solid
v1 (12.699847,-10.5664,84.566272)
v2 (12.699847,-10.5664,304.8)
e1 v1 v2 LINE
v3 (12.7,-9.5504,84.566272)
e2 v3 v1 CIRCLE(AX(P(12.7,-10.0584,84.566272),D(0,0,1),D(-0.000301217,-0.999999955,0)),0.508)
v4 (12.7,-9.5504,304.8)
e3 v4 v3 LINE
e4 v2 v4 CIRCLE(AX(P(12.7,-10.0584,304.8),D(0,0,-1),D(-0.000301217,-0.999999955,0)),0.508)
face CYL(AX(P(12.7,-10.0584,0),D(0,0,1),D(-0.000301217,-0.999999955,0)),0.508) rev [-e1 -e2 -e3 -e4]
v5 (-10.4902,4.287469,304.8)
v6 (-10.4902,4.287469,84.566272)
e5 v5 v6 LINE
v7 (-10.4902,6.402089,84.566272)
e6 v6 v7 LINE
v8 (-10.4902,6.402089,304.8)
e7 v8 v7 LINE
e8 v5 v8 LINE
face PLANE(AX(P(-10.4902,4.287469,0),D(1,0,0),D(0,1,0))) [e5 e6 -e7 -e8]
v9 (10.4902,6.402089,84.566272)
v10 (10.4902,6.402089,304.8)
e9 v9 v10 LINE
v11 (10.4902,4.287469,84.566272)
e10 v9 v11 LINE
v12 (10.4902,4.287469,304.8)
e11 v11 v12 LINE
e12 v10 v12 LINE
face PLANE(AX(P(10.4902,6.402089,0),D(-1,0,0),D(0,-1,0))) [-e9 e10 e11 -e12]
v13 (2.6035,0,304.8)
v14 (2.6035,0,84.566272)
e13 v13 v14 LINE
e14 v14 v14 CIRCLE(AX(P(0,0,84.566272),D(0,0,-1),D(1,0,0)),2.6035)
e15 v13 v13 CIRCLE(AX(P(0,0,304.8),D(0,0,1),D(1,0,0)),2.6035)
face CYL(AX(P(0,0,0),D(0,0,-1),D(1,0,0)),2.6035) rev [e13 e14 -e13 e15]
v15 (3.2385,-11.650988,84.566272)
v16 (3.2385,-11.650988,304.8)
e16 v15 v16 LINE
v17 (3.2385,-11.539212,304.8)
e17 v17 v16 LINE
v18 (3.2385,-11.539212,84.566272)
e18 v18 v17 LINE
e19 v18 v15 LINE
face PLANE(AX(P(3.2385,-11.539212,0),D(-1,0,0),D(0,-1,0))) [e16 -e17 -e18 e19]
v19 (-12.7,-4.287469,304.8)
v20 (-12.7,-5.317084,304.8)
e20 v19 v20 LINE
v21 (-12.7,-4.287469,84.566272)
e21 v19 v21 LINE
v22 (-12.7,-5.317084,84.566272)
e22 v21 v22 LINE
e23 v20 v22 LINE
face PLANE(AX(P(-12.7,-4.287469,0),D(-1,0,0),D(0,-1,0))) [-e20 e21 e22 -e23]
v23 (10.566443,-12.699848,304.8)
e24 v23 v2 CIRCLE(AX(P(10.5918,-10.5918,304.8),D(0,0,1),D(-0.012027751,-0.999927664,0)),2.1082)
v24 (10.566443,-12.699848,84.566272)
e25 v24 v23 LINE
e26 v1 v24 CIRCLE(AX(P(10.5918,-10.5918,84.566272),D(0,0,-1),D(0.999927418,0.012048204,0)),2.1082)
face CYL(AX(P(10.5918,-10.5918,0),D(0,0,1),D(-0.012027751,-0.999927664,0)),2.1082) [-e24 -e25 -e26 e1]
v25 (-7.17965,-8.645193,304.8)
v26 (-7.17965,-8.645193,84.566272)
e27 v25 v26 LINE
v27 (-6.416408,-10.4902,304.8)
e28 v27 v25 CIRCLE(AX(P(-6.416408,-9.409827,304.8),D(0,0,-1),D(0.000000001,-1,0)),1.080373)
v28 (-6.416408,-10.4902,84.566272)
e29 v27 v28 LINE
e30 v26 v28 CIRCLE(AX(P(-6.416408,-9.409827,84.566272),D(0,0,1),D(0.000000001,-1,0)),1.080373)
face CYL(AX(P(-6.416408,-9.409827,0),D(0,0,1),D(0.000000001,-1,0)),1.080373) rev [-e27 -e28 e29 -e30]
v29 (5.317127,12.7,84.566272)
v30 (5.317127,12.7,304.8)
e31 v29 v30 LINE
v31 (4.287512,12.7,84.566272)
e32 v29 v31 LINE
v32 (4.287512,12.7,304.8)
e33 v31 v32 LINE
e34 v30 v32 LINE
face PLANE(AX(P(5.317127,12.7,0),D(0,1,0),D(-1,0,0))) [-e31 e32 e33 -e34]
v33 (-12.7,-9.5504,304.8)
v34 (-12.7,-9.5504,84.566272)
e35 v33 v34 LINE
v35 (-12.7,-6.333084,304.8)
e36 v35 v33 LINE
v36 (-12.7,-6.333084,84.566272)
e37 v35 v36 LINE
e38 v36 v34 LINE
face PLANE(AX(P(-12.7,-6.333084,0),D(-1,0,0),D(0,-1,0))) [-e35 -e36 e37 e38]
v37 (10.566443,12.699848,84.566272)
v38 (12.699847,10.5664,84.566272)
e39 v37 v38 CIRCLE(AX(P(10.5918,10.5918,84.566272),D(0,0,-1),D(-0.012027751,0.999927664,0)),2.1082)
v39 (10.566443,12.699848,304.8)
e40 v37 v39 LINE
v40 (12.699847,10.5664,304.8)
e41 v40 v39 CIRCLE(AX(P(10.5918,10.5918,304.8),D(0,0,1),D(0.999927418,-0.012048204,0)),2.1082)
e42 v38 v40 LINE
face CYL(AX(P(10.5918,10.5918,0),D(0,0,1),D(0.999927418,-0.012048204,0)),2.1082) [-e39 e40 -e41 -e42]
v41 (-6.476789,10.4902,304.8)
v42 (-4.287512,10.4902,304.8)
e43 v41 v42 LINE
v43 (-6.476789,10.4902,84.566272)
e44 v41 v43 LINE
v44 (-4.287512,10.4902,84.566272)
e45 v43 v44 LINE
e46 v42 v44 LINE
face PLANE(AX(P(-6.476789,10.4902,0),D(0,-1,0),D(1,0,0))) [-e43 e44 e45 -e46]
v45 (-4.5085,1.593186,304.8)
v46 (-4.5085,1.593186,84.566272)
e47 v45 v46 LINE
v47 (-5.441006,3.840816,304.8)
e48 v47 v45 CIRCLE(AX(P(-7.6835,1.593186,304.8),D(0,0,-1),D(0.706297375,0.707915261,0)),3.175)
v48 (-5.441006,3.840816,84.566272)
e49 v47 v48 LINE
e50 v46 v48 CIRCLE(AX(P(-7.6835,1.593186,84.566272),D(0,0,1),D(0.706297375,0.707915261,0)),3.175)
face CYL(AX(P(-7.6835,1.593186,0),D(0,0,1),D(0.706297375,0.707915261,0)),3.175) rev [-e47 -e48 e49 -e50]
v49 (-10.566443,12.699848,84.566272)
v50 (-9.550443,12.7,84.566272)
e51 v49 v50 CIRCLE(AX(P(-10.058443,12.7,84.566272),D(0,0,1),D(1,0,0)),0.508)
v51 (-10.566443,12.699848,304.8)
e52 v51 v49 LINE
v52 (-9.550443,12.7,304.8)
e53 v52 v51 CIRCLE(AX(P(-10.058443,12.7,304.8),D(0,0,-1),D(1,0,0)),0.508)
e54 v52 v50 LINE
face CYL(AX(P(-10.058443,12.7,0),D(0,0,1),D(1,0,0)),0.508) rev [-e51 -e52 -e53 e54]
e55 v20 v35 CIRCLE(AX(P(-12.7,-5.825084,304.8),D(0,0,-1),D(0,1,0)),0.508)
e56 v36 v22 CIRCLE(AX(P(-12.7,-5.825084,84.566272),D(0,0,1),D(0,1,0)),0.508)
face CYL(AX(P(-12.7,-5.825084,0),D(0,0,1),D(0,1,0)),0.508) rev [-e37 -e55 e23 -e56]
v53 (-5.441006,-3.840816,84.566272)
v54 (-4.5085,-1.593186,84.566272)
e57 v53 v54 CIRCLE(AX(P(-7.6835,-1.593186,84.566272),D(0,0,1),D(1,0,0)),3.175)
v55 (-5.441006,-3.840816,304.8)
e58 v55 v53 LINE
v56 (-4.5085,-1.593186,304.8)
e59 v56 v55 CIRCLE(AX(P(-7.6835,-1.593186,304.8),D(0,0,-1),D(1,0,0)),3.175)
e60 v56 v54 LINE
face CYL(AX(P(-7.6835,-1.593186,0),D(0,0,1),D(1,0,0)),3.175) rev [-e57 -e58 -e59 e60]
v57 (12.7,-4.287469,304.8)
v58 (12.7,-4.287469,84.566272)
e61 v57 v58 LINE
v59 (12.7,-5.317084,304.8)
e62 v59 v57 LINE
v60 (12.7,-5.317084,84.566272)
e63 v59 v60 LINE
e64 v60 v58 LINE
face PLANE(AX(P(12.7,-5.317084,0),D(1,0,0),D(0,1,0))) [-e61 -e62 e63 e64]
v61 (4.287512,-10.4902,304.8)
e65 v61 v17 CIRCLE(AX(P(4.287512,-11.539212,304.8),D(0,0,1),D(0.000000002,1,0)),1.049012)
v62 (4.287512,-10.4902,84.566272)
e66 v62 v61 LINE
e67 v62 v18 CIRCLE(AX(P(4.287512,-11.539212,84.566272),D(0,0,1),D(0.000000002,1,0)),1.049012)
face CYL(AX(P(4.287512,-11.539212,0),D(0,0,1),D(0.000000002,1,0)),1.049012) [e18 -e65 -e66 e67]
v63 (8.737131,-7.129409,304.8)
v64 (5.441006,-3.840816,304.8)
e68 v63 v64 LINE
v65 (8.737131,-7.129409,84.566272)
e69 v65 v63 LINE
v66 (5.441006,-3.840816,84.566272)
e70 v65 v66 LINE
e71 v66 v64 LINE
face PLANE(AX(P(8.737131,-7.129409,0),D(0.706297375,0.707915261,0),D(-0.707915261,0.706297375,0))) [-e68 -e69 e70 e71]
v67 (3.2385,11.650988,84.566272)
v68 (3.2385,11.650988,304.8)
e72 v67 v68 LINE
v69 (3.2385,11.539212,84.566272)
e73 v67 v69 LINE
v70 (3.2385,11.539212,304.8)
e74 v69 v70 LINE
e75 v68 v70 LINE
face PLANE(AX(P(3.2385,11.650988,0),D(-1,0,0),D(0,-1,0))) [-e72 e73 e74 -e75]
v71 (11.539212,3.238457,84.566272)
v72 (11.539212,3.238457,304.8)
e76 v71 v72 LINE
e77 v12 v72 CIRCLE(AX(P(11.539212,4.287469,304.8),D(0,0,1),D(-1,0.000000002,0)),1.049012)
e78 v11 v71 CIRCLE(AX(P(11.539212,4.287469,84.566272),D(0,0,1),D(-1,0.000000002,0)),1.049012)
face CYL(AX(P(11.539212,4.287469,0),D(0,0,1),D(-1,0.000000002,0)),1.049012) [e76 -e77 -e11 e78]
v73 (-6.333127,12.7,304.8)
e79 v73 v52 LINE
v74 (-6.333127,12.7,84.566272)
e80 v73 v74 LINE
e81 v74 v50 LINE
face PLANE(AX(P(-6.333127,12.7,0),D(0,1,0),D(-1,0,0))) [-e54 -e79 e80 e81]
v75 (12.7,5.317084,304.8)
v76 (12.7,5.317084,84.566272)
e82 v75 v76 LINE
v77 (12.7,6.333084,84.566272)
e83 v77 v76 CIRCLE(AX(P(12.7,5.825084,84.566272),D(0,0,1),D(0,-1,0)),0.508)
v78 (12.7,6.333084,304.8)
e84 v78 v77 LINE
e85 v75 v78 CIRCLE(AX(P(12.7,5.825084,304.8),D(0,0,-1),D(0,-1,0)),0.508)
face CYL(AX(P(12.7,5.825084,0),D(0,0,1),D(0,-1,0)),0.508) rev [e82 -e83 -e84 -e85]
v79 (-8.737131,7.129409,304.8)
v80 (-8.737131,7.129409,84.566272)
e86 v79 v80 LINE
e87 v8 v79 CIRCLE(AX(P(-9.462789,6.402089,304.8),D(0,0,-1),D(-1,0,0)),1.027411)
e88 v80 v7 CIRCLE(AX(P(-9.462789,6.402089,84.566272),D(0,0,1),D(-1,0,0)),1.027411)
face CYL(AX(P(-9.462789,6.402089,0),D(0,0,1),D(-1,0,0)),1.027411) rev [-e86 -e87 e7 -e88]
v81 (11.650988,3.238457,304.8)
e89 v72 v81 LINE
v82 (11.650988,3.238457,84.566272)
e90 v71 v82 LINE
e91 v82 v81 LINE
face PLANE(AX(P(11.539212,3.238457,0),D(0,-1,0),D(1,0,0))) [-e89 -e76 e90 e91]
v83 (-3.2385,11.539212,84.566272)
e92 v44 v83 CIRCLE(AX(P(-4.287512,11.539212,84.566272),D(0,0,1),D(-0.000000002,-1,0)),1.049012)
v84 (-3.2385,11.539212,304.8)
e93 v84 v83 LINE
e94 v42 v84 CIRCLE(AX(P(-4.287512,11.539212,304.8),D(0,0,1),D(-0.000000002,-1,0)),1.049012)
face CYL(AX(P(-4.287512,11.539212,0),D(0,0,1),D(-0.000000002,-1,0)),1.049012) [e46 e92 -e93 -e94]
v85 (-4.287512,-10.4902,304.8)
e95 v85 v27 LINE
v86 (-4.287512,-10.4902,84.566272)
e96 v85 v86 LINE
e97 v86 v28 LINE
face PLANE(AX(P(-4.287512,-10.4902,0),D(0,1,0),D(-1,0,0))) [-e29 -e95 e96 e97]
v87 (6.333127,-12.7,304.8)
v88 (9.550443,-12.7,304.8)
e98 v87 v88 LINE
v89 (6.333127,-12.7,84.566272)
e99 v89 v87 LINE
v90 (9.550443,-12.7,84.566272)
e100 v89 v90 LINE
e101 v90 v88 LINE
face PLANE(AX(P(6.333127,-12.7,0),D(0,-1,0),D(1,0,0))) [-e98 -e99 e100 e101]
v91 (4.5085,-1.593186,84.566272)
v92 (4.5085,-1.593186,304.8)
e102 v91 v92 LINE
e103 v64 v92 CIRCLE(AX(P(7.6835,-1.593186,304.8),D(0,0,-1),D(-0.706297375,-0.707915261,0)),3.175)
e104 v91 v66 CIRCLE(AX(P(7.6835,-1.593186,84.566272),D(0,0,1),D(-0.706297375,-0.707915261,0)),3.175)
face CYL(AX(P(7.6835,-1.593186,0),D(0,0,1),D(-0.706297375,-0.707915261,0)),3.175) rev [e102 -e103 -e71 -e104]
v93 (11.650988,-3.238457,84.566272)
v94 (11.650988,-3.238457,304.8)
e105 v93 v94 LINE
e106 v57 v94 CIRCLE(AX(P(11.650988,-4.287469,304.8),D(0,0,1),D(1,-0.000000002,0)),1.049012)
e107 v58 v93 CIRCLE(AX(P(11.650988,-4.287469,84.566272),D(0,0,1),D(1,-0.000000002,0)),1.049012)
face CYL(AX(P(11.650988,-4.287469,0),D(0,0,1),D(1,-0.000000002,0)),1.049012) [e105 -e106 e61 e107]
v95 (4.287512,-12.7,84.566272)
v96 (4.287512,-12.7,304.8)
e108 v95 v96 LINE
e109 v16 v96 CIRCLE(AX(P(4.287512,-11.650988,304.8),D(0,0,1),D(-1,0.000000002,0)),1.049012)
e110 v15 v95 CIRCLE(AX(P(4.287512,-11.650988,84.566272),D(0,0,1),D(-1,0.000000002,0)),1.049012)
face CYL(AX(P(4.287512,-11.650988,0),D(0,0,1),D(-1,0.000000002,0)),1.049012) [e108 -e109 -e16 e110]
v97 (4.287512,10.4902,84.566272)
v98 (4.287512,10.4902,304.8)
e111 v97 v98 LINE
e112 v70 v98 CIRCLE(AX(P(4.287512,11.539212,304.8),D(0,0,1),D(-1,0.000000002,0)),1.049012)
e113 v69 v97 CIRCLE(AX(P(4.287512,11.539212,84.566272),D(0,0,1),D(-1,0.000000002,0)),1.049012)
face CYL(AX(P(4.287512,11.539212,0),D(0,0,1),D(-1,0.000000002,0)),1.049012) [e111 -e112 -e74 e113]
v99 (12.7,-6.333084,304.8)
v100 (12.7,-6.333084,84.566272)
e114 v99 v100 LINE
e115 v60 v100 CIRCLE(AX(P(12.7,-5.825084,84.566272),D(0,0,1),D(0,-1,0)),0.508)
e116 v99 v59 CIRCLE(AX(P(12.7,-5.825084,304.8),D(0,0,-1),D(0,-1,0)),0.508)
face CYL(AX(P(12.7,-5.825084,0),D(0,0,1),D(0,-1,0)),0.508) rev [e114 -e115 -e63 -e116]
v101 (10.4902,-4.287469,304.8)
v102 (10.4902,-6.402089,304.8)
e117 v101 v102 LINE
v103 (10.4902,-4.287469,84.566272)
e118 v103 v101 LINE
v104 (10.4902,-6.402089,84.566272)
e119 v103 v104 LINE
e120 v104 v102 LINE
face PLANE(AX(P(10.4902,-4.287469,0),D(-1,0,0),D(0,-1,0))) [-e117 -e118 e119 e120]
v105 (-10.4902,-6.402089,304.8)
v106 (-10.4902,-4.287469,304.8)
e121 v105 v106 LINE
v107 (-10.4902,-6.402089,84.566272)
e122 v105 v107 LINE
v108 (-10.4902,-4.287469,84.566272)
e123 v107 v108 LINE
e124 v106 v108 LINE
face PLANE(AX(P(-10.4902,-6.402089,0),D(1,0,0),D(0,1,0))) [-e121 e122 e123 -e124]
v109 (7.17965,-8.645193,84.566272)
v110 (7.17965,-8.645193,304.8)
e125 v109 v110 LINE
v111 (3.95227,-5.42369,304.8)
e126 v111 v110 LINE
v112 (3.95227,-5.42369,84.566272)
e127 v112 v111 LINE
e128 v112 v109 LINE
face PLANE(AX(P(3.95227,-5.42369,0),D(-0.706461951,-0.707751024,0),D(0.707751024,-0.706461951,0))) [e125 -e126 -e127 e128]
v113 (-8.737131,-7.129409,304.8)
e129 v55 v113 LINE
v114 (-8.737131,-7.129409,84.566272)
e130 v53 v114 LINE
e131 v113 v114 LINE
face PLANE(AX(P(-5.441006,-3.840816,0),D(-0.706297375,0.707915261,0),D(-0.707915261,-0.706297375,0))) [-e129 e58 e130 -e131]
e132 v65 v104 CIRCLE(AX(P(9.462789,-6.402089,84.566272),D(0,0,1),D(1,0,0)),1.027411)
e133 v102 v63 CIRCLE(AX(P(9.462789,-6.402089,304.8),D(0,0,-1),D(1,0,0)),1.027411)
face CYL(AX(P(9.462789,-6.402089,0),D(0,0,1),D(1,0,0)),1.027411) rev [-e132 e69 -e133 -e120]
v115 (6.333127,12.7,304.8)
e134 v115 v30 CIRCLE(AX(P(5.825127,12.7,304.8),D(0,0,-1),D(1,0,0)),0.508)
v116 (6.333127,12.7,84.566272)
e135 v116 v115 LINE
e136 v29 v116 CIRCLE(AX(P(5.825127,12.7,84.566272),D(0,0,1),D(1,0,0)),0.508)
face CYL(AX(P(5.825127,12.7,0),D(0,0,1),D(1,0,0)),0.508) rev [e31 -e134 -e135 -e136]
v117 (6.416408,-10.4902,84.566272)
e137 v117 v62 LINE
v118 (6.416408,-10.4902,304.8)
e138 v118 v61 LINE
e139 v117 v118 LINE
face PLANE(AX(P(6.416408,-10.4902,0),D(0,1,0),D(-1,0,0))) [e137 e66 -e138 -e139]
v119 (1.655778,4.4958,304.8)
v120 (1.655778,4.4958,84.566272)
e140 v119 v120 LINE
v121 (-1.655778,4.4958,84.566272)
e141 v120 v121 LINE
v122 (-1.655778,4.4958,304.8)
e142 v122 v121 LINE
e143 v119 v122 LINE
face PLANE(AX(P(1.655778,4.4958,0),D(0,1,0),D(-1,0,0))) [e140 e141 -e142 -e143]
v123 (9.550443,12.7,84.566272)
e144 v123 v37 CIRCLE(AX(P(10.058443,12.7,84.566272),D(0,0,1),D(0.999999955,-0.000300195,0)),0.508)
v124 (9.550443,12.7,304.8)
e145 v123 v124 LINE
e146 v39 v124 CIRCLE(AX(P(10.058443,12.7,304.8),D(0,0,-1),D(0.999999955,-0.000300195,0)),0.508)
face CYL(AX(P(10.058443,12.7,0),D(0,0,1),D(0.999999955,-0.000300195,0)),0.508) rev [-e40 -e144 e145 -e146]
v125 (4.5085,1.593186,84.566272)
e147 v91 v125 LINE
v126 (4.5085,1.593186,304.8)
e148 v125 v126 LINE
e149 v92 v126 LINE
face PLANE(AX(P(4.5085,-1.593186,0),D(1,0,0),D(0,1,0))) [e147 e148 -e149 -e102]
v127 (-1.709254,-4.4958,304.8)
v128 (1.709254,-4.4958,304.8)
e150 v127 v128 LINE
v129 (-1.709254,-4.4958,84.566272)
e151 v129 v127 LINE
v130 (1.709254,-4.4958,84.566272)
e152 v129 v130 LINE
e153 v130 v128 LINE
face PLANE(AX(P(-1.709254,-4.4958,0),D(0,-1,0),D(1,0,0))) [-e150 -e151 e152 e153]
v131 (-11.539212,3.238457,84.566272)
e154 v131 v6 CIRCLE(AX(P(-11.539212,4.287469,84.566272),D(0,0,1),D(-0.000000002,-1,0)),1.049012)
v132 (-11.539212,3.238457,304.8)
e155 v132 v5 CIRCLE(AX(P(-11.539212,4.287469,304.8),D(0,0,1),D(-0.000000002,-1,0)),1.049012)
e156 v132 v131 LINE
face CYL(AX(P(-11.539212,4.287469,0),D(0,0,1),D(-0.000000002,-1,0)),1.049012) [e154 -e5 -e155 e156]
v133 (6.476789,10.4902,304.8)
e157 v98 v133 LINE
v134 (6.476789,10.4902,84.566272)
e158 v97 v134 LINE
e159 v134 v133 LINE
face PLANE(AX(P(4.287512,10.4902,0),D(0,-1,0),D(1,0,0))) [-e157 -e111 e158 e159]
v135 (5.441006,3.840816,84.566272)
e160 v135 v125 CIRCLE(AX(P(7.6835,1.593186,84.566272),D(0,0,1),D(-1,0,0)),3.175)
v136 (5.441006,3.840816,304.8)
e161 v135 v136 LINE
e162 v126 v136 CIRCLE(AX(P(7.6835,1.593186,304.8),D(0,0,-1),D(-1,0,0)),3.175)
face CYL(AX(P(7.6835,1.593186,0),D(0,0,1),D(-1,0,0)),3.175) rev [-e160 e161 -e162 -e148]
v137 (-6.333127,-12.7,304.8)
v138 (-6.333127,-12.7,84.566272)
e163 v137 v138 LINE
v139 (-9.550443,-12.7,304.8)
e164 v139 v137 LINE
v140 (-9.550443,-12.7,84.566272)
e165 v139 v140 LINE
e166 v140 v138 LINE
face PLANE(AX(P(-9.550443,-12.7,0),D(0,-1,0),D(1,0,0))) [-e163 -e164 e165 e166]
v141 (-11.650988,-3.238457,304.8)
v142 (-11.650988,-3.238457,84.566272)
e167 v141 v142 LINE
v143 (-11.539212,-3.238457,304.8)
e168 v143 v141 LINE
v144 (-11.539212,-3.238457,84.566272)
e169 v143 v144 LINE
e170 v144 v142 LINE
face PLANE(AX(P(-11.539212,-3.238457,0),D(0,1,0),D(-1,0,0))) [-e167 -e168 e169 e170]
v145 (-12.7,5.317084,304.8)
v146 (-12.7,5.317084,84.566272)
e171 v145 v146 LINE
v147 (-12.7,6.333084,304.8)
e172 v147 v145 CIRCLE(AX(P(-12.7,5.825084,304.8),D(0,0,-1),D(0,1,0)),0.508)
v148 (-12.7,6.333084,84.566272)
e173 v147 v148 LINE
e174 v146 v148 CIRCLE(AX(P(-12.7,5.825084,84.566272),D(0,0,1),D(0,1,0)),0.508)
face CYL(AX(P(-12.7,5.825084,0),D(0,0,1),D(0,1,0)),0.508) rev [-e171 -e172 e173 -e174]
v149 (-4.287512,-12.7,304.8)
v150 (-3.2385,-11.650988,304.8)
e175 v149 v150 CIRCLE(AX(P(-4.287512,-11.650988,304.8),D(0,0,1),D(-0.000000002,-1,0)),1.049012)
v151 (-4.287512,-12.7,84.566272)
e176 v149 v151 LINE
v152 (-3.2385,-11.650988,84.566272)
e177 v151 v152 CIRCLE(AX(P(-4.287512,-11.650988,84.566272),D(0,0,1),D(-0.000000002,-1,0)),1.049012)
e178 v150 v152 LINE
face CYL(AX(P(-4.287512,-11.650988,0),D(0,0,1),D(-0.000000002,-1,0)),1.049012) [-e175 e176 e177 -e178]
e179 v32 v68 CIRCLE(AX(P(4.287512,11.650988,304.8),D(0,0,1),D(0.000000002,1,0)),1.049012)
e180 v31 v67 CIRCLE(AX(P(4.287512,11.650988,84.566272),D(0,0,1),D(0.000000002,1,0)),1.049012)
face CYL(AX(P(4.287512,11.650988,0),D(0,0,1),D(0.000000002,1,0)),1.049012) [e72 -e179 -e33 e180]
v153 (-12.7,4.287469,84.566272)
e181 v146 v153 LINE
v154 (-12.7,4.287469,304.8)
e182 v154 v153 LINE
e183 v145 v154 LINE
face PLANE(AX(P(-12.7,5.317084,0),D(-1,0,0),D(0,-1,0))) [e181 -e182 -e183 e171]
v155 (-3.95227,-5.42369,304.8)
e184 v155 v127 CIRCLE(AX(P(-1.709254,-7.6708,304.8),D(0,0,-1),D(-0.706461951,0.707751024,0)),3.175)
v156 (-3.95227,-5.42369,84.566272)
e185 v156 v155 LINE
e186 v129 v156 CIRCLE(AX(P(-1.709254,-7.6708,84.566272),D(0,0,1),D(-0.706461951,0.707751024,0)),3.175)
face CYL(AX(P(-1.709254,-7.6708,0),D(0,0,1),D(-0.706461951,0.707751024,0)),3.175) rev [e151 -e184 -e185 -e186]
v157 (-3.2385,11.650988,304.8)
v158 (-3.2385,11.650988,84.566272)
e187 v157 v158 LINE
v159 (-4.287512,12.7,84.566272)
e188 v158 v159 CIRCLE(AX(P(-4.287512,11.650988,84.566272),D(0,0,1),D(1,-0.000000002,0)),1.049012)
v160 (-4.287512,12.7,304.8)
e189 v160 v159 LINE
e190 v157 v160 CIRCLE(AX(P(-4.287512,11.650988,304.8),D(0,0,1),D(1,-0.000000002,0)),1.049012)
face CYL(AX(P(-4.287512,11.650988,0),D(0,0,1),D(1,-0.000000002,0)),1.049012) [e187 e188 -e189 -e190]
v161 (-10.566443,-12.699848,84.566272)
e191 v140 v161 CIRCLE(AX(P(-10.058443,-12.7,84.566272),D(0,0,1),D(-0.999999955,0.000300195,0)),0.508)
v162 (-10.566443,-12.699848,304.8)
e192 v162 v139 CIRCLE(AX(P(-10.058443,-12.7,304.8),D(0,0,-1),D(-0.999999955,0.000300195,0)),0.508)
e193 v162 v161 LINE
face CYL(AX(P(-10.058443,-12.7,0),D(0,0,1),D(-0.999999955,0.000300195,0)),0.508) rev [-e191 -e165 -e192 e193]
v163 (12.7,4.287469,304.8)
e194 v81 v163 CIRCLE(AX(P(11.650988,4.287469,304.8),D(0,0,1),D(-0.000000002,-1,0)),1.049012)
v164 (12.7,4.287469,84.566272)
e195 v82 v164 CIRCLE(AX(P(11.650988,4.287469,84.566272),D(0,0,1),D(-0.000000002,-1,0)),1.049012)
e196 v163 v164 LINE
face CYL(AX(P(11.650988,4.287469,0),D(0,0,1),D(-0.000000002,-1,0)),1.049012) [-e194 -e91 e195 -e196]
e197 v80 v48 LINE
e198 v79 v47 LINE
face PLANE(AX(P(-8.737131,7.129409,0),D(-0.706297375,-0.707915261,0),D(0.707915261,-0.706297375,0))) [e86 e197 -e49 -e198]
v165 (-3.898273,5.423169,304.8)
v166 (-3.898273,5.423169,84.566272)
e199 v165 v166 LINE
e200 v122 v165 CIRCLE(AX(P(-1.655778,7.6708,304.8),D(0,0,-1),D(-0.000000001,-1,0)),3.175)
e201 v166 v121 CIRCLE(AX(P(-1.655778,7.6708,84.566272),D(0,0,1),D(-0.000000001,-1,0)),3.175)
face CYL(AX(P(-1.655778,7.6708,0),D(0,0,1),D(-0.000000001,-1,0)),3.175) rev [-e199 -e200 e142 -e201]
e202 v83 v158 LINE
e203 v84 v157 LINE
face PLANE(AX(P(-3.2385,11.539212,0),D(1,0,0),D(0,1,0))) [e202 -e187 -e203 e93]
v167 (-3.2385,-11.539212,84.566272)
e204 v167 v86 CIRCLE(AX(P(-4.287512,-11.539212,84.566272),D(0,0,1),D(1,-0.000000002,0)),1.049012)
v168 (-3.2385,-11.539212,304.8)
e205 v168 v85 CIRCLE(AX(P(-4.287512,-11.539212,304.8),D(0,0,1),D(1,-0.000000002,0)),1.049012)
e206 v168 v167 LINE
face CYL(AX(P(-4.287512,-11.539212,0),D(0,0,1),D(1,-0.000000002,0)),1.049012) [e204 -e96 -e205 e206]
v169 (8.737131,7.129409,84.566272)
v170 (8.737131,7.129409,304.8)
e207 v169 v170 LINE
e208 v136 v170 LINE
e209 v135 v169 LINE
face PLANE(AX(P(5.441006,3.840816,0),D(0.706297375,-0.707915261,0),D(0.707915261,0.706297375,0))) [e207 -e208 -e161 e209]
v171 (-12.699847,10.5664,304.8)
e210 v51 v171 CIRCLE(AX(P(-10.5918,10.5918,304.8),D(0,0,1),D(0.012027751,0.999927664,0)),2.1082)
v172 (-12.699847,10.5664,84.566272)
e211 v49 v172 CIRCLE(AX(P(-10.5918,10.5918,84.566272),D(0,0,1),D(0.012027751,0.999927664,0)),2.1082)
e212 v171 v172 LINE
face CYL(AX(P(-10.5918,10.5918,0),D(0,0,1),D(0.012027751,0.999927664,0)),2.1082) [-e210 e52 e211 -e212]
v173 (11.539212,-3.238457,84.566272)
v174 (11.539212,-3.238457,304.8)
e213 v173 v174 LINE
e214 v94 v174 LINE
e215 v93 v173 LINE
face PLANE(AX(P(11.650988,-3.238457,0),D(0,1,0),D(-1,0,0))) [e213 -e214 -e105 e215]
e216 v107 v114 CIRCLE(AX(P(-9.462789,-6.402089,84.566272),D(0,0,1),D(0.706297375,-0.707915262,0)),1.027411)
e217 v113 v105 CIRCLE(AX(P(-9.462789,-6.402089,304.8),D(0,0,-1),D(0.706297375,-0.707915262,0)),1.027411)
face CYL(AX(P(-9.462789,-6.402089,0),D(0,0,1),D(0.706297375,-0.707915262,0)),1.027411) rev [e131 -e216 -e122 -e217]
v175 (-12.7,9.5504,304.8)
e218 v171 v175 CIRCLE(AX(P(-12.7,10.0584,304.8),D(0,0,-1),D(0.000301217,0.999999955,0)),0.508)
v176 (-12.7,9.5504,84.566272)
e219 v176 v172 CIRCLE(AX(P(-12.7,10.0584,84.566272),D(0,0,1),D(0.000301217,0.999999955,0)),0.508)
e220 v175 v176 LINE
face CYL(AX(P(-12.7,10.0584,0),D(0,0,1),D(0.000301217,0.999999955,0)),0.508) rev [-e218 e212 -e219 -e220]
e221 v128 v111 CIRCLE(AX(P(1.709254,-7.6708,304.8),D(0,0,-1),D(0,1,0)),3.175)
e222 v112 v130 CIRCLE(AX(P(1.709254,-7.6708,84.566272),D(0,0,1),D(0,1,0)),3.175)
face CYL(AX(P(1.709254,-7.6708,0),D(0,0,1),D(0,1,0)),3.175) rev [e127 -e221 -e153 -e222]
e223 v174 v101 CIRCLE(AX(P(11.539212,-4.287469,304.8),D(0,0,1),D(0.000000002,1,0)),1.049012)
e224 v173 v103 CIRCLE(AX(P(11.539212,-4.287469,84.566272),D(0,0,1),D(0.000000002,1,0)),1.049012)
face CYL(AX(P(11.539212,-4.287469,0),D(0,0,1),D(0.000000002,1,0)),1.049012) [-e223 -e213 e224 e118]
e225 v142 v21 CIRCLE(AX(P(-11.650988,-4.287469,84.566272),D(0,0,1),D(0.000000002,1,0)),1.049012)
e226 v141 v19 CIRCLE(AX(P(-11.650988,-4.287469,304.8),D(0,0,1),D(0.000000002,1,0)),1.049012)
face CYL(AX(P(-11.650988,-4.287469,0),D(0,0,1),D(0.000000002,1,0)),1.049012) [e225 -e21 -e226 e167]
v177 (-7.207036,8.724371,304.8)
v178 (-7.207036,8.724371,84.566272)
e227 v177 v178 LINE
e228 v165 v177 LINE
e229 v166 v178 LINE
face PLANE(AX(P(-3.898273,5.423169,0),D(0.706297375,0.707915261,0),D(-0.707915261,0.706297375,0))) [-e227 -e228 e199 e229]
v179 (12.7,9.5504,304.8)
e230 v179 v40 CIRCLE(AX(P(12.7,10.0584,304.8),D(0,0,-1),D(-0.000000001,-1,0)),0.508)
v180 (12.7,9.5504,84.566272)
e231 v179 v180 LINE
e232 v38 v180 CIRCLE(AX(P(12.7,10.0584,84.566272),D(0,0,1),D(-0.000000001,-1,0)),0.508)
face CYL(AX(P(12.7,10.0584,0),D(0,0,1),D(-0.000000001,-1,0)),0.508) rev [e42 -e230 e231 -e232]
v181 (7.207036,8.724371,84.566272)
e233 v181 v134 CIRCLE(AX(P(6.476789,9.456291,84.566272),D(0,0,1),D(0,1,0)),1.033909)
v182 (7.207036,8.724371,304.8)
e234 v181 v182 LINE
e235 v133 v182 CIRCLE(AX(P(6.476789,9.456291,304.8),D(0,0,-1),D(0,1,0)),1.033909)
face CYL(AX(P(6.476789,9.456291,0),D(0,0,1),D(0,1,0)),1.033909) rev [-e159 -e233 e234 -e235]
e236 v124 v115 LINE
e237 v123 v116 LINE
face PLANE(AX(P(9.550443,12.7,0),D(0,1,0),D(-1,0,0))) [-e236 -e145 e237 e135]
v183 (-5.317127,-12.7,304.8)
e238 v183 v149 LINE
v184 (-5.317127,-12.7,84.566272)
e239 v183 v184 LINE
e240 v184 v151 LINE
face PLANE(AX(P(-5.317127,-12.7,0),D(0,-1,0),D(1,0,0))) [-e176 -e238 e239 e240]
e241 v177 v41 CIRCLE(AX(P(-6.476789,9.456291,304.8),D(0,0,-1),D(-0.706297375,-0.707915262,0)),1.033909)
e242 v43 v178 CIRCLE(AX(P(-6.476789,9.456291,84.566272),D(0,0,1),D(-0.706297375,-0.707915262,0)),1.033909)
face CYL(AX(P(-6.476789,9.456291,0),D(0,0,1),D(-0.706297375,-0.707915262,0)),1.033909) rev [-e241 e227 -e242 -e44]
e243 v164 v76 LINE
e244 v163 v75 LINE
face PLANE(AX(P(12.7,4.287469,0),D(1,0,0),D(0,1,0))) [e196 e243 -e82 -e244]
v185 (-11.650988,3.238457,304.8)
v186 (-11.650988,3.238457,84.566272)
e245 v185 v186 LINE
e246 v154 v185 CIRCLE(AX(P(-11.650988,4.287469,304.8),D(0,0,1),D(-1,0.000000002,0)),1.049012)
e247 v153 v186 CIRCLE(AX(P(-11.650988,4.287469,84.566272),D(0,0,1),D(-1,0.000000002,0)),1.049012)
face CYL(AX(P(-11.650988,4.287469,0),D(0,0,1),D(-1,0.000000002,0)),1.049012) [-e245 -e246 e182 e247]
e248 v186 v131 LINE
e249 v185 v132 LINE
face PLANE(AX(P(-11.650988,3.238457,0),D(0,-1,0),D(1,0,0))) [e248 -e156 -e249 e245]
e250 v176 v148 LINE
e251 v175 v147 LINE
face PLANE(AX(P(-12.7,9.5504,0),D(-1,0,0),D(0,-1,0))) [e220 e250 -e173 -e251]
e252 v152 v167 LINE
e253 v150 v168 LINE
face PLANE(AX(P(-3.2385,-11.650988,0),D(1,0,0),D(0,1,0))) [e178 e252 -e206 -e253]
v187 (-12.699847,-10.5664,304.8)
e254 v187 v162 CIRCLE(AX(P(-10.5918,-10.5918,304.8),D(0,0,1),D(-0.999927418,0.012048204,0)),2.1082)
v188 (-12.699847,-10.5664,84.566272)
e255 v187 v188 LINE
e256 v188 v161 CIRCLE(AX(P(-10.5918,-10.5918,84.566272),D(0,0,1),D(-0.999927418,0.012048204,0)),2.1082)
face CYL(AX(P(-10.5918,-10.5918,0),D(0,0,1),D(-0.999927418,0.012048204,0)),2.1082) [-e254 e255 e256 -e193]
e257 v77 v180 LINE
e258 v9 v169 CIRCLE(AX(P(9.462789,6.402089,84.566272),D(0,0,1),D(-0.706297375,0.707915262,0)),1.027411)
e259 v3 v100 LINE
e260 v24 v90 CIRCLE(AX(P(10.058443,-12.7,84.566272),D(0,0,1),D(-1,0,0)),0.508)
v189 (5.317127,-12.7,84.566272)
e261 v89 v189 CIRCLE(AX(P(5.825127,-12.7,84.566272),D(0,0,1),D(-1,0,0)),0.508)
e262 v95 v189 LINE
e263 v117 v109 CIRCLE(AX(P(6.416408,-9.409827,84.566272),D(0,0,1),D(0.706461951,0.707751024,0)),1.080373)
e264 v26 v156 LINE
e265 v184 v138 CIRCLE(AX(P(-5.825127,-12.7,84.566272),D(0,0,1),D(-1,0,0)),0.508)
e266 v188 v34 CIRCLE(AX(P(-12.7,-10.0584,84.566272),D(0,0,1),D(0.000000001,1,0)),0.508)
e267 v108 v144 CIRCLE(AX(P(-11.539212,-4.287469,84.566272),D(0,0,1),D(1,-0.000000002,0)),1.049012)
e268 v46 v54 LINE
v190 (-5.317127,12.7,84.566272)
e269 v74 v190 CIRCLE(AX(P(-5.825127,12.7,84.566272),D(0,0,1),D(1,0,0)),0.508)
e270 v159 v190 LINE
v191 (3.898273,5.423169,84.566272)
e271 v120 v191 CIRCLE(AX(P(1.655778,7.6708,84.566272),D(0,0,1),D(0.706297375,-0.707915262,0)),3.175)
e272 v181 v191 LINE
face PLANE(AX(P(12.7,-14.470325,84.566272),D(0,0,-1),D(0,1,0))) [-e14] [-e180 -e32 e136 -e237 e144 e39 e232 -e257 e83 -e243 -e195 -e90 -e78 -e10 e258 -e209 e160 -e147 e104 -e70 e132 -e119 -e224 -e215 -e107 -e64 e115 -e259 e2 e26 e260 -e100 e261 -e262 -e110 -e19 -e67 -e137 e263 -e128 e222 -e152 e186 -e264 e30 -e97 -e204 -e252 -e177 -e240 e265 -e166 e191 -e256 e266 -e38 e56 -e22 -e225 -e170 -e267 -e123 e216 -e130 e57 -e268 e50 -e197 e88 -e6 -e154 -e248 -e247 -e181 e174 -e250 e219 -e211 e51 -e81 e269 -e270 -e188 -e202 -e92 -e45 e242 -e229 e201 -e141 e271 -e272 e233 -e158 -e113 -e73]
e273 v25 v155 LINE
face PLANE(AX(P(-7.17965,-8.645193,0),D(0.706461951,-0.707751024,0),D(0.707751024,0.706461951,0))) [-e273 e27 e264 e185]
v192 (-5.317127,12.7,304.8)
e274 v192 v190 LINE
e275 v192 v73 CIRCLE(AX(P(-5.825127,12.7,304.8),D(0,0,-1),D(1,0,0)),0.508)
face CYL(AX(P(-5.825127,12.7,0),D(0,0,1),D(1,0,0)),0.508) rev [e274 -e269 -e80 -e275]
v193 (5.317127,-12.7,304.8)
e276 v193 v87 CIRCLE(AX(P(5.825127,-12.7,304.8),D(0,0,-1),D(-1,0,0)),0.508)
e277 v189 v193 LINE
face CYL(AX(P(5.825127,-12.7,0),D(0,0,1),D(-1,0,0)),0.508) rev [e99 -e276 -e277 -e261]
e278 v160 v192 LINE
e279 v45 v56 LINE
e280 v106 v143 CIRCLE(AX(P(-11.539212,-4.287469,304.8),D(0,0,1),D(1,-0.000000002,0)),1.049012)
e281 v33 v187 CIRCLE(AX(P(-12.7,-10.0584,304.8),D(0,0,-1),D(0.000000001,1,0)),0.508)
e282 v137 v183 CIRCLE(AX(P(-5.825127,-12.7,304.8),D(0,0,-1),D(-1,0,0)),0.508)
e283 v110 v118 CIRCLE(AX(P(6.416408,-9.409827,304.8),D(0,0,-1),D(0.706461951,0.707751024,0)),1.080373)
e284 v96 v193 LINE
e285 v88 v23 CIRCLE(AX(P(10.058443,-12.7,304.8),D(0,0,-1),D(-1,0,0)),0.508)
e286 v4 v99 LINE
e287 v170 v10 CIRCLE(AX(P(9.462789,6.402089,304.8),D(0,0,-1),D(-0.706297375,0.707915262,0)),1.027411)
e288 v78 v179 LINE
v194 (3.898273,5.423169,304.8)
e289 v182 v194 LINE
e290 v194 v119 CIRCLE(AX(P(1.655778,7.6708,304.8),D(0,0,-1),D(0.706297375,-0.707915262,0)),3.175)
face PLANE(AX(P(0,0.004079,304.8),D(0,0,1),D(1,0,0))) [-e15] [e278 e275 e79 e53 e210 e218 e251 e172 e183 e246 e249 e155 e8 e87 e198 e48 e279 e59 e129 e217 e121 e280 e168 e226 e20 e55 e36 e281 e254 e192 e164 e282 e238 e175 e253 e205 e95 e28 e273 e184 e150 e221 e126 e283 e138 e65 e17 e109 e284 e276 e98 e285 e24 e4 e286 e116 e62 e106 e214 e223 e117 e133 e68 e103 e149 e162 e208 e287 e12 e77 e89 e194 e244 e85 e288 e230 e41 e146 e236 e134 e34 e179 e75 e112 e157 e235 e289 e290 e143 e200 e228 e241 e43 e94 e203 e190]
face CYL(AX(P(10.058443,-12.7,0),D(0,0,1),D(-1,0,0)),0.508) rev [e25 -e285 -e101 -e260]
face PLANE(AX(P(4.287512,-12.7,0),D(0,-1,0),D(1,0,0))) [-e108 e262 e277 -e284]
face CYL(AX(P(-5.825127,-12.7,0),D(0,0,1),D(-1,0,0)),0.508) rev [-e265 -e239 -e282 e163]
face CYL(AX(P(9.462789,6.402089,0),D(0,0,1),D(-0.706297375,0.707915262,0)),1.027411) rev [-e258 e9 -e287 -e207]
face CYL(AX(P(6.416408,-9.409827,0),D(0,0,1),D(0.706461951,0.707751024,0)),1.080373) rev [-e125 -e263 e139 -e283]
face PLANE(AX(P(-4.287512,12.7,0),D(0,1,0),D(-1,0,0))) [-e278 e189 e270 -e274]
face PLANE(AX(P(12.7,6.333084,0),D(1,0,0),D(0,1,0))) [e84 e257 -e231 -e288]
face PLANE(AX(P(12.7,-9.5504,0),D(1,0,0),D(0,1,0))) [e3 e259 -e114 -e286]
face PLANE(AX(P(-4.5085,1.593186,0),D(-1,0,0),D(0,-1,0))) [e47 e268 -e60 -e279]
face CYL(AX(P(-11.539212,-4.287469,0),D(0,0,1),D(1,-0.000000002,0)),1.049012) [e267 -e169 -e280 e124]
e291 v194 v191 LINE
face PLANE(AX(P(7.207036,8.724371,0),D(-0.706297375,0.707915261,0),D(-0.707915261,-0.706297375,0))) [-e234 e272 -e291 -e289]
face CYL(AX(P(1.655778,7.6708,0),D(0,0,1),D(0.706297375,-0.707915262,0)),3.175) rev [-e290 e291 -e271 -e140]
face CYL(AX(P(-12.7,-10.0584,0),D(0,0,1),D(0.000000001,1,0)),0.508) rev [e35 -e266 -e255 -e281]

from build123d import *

# Parameters (mm, degrees)
SKETCH1_R               = 2.6035
BOSS_EXTRUDE1_DEPTH     = 304.8
SKETCH2_W               = 393.336915217
SKETCH2_H               = 29.247644192
CUT_EXTRUDE1_DEPTH      = 6.35
CUT_EXTRUDE1_DEPTH_BACK = 29.21


with BuildPart() as part:
    # Sketch1 → Boss-Extrude1 (new body, symmetric)
    with BuildSketch(Plane.XY):
        with BuildLine():
            Line((-7.179650497, -8.645192506), (-3.952270251, -5.423690499))
            ThreePointArc((-3.952270251, -5.423690499), (-2.922936451, -4.736929036), (-1.709253557, -4.4958))
            Line((-1.709253557, -4.4958), (1.709253557, -4.4958))
            ThreePointArc((1.709253557, -4.4958), (2.922936451, -4.736929036), (3.952270251, -5.423690499))
            Line((3.952270251, -5.423690499), (7.179650497, -8.645192506))
            ThreePointArc((7.179650497, -8.645192506), (7.41473083, -9.822813117), (6.416408329, -10.4902))
            Line((6.416408329, -10.4902), (4.287512407, -10.4902))
            ThreePointArc((4.287512407, -10.4902), (3.54574862, -10.79744862), (3.2385, -11.539212407))
            Line((3.2385, -11.539212407), (3.2385, -11.650987593))
            ThreePointArc((3.2385, -11.650987593), (3.54574862, -12.39275138), (4.287512407, -12.7))
            Line((4.287512407, -12.7), (5.317126718, -12.7))
            ThreePointArc((5.317126718, -12.7), (5.825126718, -12.192), (6.333126718, -12.7))
            Line((6.333126718, -12.7), (9.550443118, -12.7))
            ThreePointArc((9.550443118, -12.7), (10.058366869, -12.192000006), (10.566443095, -12.699847501))
            ThreePointArc((10.566443095, -12.699847501), (12.082537762, -12.08250727), (12.699846982, -10.566399977))
            ThreePointArc((12.699846982, -10.566399977), (12.192000006, -10.058323491), (12.7, -9.5504))
            Line((12.7, -9.5504), (12.7, -6.3330836))
            ThreePointArc((12.7, -6.3330836), (12.192, -5.8250836), (12.7, -5.3170836))
            Line((12.7, -5.3170836), (12.7, -4.287469289))
            ThreePointArc((12.7, -4.287469289), (12.39275138, -3.545705502), (11.650987593, -3.238456882))
            Line((11.650987593, -3.238456882), (11.539212407, -3.238456882))
            ThreePointArc((11.539212407, -3.238456882), (10.79744862, -3.545705502), (10.4902, -4.287469289))
            Line((10.4902, -4.287469289), (10.4902, -6.402089023))
            ThreePointArc((10.4902, -6.402089023), (9.856505071, -7.351067942), (8.737131347, -7.129408934))
            Line((8.737131347, -7.129408934), (5.441005833, -3.840816462))
            ThreePointArc((5.441005833, -3.840816462), (4.750877967, -2.809883091), (4.5085, -1.593185507))
            Line((4.5085, -1.593185507), (4.5085, 1.593185507))
            ThreePointArc((4.5085, 1.593185507), (4.750877967, 2.809883091), (5.441005833, 3.840816462))
            Line((5.441005833, 3.840816462), (8.737131347, 7.129408934))
            ThreePointArc((8.737131347, 7.129408934), (9.856505071, 7.351067942), (10.4902, 6.402089023))
            Line((10.4902, 6.402089023), (10.4902, 4.287469289))
            ThreePointArc((10.4902, 4.287469289), (10.79744862, 3.545705502), (11.539212407, 3.238456882))
            Line((11.539212407, 3.238456882), (11.650987593, 3.238456882))
            ThreePointArc((11.650987593, 3.238456882), (12.39275138, 3.545705502), (12.7, 4.287469289))
            Line((12.7, 4.287469289), (12.7, 5.3170836))
            ThreePointArc((12.7, 5.3170836), (12.192, 5.8250836), (12.7, 6.3330836))
            Line((12.7, 6.3330836), (12.7, 9.5504))
            ThreePointArc((12.7, 9.5504), (12.192000006, 10.058323491), (12.699846982, 10.566399977))
            ThreePointArc((12.699846982, 10.566399977), (12.082537762, 12.08250727), (10.566443095, 12.699847501))
            ThreePointArc((10.566443095, 12.699847501), (10.058366869, 12.192000006), (9.550443118, 12.7))
            Line((9.550443118, 12.7), (6.333126718, 12.7))
            ThreePointArc((6.333126718, 12.7), (5.825126718, 12.192), (5.317126718, 12.7))
            Line((5.317126718, 12.7), (4.287512407, 12.7))
            ThreePointArc((4.287512407, 12.7), (3.54574862, 12.39275138), (3.2385, 11.650987593))
            Line((3.2385, 11.650987593), (3.2385, 11.539212407))
            ThreePointArc((3.2385, 11.539212407), (3.54574862, 10.79744862), (4.287512407, 10.4902))
            Line((4.287512407, 10.4902), (6.476788598, 10.4902))
            ThreePointArc((6.476788598, 10.4902), (7.432222385, 9.85140422), (7.207036008, 8.724370562))
            Line((7.207036008, 8.724370562), (3.898272566, 5.423169045))
            ThreePointArc((3.898272566, 5.423169045), (2.869120213, 4.736787962), (1.655778399, 4.4958))
            Line((1.655778399, 4.4958), (-1.655778399, 4.4958))
            ThreePointArc((-1.655778399, 4.4958), (-2.869120213, 4.736787962), (-3.898272566, 5.423169045))
            Line((-3.898272566, 5.423169045), (-7.207036008, 8.724370562))
            ThreePointArc((-7.207036008, 8.724370562), (-7.432222385, 9.85140422), (-6.476788598, 10.4902))
            Line((-6.476788598, 10.4902), (-4.287512407, 10.4902))
            ThreePointArc((-4.287512407, 10.4902), (-3.54574862, 10.79744862), (-3.2385, 11.539212407))
            Line((-3.2385, 11.539212407), (-3.2385, 11.650987593))
            ThreePointArc((-3.2385, 11.650987593), (-3.54574862, 12.39275138), (-4.287512407, 12.7))
            Line((-4.287512407, 12.7), (-5.317126718, 12.7))
            ThreePointArc((-5.317126718, 12.7), (-5.825126718, 12.192), (-6.333126718, 12.7))
            Line((-6.333126718, 12.7), (-9.550443118, 12.7))
            ThreePointArc((-9.550443118, 12.7), (-10.058366869, 12.192000006), (-10.566443095, 12.699847501))
            ThreePointArc((-10.566443095, 12.699847501), (-12.082537762, 12.08250727), (-12.699846982, 10.566399977))
            ThreePointArc((-12.699846982, 10.566399977), (-12.192000006, 10.058323491), (-12.7, 9.5504))
            Line((-12.7, 9.5504), (-12.7, 6.3330836))
            ThreePointArc((-12.7, 6.3330836), (-12.192, 5.8250836), (-12.7, 5.3170836))
            Line((-12.7, 5.3170836), (-12.7, 4.287469289))
            ThreePointArc((-12.7, 4.287469289), (-12.39275138, 3.545705502), (-11.650987593, 3.238456882))
            Line((-11.650987593, 3.238456882), (-11.539212407, 3.238456882))
            ThreePointArc((-11.539212407, 3.238456882), (-10.79744862, 3.545705502), (-10.4902, 4.287469289))
            Line((-10.4902, 4.287469289), (-10.4902, 6.402089023))
            ThreePointArc((-10.4902, 6.402089023), (-9.856505071, 7.351067942), (-8.737131347, 7.129408934))
            Line((-8.737131347, 7.129408934), (-5.441005833, 3.840816462))
            ThreePointArc((-5.441005833, 3.840816462), (-4.750877967, 2.809883091), (-4.5085, 1.593185507))
            Line((-4.5085, 1.593185507), (-4.5085, -1.593185507))
            ThreePointArc((-4.5085, -1.593185507), (-4.750877967, -2.809883091), (-5.441005833, -3.840816462))
            Line((-5.441005833, -3.840816462), (-8.737131347, -7.129408934))
            ThreePointArc((-8.737131347, -7.129408934), (-9.856505071, -7.351067942), (-10.4902, -6.402089023))
            Line((-10.4902, -6.402089023), (-10.4902, -4.287469289))
            ThreePointArc((-10.4902, -4.287469289), (-10.79744862, -3.545705502), (-11.539212407, -3.238456882))
            Line((-11.539212407, -3.238456882), (-11.650987593, -3.238456882))
            ThreePointArc((-11.650987593, -3.238456882), (-12.39275138, -3.545705502), (-12.7, -4.287469289))
            Line((-12.7, -4.287469289), (-12.7, -5.3170836))
            ThreePointArc((-12.7, -5.3170836), (-12.192, -5.8250836), (-12.7, -6.3330836))
            Line((-12.7, -6.3330836), (-12.7, -9.5504))
            ThreePointArc((-12.7, -9.5504), (-12.192000006, -10.058323491), (-12.699846982, -10.566399977))
            ThreePointArc((-12.699846982, -10.566399977), (-12.082537762, -12.08250727), (-10.566443095, -12.699847501))
            ThreePointArc((-10.566443095, -12.699847501), (-10.058366869, -12.192000006), (-9.550443118, -12.7))
            Line((-9.550443118, -12.7), (-6.333126718, -12.7))
            ThreePointArc((-6.333126718, -12.7), (-5.825126718, -12.192), (-5.317126718, -12.7))
            Line((-5.317126718, -12.7), (-4.287512407, -12.7))
            ThreePointArc((-4.287512407, -12.7), (-3.54574862, -12.39275138), (-3.2385, -11.650987593))
            Line((-3.2385, -11.650987593), (-3.2385, -11.539212407))
            ThreePointArc((-3.2385, -11.539212407), (-3.54574862, -10.79744862), (-4.287512407, -10.4902))
            Line((-4.287512407, -10.4902), (-6.416408329, -10.4902))
            ThreePointArc((-6.416408329, -10.4902), (-7.41473083, -9.822813117), (-7.179650497, -8.645192506))
        make_face()
        Circle(SKETCH1_R, mode=Mode.SUBTRACT)
    extrude(amount=BOSS_EXTRUDE1_DEPTH, both=True)

    # Sketch2 → Cut-Extrude1 (cut, two sides)
    with BuildSketch(Plane(origin=(12.7, 0, 0), x_dir=(0, 0, -1), z_dir=(1, 0, 0))) as cut_extrude1_sk:
        with Locations((112.1021859, 0.153496859)):
            Rectangle(SKETCH2_W, SKETCH2_H)
    extrude(amount=CUT_EXTRUDE1_DEPTH, mode=Mode.SUBTRACT)
    extrude(cut_extrude1_sk.sketch, amount=-CUT_EXTRUDE1_DEPTH_BACK, mode=Mode.SUBTRACT)


solid = part.part
